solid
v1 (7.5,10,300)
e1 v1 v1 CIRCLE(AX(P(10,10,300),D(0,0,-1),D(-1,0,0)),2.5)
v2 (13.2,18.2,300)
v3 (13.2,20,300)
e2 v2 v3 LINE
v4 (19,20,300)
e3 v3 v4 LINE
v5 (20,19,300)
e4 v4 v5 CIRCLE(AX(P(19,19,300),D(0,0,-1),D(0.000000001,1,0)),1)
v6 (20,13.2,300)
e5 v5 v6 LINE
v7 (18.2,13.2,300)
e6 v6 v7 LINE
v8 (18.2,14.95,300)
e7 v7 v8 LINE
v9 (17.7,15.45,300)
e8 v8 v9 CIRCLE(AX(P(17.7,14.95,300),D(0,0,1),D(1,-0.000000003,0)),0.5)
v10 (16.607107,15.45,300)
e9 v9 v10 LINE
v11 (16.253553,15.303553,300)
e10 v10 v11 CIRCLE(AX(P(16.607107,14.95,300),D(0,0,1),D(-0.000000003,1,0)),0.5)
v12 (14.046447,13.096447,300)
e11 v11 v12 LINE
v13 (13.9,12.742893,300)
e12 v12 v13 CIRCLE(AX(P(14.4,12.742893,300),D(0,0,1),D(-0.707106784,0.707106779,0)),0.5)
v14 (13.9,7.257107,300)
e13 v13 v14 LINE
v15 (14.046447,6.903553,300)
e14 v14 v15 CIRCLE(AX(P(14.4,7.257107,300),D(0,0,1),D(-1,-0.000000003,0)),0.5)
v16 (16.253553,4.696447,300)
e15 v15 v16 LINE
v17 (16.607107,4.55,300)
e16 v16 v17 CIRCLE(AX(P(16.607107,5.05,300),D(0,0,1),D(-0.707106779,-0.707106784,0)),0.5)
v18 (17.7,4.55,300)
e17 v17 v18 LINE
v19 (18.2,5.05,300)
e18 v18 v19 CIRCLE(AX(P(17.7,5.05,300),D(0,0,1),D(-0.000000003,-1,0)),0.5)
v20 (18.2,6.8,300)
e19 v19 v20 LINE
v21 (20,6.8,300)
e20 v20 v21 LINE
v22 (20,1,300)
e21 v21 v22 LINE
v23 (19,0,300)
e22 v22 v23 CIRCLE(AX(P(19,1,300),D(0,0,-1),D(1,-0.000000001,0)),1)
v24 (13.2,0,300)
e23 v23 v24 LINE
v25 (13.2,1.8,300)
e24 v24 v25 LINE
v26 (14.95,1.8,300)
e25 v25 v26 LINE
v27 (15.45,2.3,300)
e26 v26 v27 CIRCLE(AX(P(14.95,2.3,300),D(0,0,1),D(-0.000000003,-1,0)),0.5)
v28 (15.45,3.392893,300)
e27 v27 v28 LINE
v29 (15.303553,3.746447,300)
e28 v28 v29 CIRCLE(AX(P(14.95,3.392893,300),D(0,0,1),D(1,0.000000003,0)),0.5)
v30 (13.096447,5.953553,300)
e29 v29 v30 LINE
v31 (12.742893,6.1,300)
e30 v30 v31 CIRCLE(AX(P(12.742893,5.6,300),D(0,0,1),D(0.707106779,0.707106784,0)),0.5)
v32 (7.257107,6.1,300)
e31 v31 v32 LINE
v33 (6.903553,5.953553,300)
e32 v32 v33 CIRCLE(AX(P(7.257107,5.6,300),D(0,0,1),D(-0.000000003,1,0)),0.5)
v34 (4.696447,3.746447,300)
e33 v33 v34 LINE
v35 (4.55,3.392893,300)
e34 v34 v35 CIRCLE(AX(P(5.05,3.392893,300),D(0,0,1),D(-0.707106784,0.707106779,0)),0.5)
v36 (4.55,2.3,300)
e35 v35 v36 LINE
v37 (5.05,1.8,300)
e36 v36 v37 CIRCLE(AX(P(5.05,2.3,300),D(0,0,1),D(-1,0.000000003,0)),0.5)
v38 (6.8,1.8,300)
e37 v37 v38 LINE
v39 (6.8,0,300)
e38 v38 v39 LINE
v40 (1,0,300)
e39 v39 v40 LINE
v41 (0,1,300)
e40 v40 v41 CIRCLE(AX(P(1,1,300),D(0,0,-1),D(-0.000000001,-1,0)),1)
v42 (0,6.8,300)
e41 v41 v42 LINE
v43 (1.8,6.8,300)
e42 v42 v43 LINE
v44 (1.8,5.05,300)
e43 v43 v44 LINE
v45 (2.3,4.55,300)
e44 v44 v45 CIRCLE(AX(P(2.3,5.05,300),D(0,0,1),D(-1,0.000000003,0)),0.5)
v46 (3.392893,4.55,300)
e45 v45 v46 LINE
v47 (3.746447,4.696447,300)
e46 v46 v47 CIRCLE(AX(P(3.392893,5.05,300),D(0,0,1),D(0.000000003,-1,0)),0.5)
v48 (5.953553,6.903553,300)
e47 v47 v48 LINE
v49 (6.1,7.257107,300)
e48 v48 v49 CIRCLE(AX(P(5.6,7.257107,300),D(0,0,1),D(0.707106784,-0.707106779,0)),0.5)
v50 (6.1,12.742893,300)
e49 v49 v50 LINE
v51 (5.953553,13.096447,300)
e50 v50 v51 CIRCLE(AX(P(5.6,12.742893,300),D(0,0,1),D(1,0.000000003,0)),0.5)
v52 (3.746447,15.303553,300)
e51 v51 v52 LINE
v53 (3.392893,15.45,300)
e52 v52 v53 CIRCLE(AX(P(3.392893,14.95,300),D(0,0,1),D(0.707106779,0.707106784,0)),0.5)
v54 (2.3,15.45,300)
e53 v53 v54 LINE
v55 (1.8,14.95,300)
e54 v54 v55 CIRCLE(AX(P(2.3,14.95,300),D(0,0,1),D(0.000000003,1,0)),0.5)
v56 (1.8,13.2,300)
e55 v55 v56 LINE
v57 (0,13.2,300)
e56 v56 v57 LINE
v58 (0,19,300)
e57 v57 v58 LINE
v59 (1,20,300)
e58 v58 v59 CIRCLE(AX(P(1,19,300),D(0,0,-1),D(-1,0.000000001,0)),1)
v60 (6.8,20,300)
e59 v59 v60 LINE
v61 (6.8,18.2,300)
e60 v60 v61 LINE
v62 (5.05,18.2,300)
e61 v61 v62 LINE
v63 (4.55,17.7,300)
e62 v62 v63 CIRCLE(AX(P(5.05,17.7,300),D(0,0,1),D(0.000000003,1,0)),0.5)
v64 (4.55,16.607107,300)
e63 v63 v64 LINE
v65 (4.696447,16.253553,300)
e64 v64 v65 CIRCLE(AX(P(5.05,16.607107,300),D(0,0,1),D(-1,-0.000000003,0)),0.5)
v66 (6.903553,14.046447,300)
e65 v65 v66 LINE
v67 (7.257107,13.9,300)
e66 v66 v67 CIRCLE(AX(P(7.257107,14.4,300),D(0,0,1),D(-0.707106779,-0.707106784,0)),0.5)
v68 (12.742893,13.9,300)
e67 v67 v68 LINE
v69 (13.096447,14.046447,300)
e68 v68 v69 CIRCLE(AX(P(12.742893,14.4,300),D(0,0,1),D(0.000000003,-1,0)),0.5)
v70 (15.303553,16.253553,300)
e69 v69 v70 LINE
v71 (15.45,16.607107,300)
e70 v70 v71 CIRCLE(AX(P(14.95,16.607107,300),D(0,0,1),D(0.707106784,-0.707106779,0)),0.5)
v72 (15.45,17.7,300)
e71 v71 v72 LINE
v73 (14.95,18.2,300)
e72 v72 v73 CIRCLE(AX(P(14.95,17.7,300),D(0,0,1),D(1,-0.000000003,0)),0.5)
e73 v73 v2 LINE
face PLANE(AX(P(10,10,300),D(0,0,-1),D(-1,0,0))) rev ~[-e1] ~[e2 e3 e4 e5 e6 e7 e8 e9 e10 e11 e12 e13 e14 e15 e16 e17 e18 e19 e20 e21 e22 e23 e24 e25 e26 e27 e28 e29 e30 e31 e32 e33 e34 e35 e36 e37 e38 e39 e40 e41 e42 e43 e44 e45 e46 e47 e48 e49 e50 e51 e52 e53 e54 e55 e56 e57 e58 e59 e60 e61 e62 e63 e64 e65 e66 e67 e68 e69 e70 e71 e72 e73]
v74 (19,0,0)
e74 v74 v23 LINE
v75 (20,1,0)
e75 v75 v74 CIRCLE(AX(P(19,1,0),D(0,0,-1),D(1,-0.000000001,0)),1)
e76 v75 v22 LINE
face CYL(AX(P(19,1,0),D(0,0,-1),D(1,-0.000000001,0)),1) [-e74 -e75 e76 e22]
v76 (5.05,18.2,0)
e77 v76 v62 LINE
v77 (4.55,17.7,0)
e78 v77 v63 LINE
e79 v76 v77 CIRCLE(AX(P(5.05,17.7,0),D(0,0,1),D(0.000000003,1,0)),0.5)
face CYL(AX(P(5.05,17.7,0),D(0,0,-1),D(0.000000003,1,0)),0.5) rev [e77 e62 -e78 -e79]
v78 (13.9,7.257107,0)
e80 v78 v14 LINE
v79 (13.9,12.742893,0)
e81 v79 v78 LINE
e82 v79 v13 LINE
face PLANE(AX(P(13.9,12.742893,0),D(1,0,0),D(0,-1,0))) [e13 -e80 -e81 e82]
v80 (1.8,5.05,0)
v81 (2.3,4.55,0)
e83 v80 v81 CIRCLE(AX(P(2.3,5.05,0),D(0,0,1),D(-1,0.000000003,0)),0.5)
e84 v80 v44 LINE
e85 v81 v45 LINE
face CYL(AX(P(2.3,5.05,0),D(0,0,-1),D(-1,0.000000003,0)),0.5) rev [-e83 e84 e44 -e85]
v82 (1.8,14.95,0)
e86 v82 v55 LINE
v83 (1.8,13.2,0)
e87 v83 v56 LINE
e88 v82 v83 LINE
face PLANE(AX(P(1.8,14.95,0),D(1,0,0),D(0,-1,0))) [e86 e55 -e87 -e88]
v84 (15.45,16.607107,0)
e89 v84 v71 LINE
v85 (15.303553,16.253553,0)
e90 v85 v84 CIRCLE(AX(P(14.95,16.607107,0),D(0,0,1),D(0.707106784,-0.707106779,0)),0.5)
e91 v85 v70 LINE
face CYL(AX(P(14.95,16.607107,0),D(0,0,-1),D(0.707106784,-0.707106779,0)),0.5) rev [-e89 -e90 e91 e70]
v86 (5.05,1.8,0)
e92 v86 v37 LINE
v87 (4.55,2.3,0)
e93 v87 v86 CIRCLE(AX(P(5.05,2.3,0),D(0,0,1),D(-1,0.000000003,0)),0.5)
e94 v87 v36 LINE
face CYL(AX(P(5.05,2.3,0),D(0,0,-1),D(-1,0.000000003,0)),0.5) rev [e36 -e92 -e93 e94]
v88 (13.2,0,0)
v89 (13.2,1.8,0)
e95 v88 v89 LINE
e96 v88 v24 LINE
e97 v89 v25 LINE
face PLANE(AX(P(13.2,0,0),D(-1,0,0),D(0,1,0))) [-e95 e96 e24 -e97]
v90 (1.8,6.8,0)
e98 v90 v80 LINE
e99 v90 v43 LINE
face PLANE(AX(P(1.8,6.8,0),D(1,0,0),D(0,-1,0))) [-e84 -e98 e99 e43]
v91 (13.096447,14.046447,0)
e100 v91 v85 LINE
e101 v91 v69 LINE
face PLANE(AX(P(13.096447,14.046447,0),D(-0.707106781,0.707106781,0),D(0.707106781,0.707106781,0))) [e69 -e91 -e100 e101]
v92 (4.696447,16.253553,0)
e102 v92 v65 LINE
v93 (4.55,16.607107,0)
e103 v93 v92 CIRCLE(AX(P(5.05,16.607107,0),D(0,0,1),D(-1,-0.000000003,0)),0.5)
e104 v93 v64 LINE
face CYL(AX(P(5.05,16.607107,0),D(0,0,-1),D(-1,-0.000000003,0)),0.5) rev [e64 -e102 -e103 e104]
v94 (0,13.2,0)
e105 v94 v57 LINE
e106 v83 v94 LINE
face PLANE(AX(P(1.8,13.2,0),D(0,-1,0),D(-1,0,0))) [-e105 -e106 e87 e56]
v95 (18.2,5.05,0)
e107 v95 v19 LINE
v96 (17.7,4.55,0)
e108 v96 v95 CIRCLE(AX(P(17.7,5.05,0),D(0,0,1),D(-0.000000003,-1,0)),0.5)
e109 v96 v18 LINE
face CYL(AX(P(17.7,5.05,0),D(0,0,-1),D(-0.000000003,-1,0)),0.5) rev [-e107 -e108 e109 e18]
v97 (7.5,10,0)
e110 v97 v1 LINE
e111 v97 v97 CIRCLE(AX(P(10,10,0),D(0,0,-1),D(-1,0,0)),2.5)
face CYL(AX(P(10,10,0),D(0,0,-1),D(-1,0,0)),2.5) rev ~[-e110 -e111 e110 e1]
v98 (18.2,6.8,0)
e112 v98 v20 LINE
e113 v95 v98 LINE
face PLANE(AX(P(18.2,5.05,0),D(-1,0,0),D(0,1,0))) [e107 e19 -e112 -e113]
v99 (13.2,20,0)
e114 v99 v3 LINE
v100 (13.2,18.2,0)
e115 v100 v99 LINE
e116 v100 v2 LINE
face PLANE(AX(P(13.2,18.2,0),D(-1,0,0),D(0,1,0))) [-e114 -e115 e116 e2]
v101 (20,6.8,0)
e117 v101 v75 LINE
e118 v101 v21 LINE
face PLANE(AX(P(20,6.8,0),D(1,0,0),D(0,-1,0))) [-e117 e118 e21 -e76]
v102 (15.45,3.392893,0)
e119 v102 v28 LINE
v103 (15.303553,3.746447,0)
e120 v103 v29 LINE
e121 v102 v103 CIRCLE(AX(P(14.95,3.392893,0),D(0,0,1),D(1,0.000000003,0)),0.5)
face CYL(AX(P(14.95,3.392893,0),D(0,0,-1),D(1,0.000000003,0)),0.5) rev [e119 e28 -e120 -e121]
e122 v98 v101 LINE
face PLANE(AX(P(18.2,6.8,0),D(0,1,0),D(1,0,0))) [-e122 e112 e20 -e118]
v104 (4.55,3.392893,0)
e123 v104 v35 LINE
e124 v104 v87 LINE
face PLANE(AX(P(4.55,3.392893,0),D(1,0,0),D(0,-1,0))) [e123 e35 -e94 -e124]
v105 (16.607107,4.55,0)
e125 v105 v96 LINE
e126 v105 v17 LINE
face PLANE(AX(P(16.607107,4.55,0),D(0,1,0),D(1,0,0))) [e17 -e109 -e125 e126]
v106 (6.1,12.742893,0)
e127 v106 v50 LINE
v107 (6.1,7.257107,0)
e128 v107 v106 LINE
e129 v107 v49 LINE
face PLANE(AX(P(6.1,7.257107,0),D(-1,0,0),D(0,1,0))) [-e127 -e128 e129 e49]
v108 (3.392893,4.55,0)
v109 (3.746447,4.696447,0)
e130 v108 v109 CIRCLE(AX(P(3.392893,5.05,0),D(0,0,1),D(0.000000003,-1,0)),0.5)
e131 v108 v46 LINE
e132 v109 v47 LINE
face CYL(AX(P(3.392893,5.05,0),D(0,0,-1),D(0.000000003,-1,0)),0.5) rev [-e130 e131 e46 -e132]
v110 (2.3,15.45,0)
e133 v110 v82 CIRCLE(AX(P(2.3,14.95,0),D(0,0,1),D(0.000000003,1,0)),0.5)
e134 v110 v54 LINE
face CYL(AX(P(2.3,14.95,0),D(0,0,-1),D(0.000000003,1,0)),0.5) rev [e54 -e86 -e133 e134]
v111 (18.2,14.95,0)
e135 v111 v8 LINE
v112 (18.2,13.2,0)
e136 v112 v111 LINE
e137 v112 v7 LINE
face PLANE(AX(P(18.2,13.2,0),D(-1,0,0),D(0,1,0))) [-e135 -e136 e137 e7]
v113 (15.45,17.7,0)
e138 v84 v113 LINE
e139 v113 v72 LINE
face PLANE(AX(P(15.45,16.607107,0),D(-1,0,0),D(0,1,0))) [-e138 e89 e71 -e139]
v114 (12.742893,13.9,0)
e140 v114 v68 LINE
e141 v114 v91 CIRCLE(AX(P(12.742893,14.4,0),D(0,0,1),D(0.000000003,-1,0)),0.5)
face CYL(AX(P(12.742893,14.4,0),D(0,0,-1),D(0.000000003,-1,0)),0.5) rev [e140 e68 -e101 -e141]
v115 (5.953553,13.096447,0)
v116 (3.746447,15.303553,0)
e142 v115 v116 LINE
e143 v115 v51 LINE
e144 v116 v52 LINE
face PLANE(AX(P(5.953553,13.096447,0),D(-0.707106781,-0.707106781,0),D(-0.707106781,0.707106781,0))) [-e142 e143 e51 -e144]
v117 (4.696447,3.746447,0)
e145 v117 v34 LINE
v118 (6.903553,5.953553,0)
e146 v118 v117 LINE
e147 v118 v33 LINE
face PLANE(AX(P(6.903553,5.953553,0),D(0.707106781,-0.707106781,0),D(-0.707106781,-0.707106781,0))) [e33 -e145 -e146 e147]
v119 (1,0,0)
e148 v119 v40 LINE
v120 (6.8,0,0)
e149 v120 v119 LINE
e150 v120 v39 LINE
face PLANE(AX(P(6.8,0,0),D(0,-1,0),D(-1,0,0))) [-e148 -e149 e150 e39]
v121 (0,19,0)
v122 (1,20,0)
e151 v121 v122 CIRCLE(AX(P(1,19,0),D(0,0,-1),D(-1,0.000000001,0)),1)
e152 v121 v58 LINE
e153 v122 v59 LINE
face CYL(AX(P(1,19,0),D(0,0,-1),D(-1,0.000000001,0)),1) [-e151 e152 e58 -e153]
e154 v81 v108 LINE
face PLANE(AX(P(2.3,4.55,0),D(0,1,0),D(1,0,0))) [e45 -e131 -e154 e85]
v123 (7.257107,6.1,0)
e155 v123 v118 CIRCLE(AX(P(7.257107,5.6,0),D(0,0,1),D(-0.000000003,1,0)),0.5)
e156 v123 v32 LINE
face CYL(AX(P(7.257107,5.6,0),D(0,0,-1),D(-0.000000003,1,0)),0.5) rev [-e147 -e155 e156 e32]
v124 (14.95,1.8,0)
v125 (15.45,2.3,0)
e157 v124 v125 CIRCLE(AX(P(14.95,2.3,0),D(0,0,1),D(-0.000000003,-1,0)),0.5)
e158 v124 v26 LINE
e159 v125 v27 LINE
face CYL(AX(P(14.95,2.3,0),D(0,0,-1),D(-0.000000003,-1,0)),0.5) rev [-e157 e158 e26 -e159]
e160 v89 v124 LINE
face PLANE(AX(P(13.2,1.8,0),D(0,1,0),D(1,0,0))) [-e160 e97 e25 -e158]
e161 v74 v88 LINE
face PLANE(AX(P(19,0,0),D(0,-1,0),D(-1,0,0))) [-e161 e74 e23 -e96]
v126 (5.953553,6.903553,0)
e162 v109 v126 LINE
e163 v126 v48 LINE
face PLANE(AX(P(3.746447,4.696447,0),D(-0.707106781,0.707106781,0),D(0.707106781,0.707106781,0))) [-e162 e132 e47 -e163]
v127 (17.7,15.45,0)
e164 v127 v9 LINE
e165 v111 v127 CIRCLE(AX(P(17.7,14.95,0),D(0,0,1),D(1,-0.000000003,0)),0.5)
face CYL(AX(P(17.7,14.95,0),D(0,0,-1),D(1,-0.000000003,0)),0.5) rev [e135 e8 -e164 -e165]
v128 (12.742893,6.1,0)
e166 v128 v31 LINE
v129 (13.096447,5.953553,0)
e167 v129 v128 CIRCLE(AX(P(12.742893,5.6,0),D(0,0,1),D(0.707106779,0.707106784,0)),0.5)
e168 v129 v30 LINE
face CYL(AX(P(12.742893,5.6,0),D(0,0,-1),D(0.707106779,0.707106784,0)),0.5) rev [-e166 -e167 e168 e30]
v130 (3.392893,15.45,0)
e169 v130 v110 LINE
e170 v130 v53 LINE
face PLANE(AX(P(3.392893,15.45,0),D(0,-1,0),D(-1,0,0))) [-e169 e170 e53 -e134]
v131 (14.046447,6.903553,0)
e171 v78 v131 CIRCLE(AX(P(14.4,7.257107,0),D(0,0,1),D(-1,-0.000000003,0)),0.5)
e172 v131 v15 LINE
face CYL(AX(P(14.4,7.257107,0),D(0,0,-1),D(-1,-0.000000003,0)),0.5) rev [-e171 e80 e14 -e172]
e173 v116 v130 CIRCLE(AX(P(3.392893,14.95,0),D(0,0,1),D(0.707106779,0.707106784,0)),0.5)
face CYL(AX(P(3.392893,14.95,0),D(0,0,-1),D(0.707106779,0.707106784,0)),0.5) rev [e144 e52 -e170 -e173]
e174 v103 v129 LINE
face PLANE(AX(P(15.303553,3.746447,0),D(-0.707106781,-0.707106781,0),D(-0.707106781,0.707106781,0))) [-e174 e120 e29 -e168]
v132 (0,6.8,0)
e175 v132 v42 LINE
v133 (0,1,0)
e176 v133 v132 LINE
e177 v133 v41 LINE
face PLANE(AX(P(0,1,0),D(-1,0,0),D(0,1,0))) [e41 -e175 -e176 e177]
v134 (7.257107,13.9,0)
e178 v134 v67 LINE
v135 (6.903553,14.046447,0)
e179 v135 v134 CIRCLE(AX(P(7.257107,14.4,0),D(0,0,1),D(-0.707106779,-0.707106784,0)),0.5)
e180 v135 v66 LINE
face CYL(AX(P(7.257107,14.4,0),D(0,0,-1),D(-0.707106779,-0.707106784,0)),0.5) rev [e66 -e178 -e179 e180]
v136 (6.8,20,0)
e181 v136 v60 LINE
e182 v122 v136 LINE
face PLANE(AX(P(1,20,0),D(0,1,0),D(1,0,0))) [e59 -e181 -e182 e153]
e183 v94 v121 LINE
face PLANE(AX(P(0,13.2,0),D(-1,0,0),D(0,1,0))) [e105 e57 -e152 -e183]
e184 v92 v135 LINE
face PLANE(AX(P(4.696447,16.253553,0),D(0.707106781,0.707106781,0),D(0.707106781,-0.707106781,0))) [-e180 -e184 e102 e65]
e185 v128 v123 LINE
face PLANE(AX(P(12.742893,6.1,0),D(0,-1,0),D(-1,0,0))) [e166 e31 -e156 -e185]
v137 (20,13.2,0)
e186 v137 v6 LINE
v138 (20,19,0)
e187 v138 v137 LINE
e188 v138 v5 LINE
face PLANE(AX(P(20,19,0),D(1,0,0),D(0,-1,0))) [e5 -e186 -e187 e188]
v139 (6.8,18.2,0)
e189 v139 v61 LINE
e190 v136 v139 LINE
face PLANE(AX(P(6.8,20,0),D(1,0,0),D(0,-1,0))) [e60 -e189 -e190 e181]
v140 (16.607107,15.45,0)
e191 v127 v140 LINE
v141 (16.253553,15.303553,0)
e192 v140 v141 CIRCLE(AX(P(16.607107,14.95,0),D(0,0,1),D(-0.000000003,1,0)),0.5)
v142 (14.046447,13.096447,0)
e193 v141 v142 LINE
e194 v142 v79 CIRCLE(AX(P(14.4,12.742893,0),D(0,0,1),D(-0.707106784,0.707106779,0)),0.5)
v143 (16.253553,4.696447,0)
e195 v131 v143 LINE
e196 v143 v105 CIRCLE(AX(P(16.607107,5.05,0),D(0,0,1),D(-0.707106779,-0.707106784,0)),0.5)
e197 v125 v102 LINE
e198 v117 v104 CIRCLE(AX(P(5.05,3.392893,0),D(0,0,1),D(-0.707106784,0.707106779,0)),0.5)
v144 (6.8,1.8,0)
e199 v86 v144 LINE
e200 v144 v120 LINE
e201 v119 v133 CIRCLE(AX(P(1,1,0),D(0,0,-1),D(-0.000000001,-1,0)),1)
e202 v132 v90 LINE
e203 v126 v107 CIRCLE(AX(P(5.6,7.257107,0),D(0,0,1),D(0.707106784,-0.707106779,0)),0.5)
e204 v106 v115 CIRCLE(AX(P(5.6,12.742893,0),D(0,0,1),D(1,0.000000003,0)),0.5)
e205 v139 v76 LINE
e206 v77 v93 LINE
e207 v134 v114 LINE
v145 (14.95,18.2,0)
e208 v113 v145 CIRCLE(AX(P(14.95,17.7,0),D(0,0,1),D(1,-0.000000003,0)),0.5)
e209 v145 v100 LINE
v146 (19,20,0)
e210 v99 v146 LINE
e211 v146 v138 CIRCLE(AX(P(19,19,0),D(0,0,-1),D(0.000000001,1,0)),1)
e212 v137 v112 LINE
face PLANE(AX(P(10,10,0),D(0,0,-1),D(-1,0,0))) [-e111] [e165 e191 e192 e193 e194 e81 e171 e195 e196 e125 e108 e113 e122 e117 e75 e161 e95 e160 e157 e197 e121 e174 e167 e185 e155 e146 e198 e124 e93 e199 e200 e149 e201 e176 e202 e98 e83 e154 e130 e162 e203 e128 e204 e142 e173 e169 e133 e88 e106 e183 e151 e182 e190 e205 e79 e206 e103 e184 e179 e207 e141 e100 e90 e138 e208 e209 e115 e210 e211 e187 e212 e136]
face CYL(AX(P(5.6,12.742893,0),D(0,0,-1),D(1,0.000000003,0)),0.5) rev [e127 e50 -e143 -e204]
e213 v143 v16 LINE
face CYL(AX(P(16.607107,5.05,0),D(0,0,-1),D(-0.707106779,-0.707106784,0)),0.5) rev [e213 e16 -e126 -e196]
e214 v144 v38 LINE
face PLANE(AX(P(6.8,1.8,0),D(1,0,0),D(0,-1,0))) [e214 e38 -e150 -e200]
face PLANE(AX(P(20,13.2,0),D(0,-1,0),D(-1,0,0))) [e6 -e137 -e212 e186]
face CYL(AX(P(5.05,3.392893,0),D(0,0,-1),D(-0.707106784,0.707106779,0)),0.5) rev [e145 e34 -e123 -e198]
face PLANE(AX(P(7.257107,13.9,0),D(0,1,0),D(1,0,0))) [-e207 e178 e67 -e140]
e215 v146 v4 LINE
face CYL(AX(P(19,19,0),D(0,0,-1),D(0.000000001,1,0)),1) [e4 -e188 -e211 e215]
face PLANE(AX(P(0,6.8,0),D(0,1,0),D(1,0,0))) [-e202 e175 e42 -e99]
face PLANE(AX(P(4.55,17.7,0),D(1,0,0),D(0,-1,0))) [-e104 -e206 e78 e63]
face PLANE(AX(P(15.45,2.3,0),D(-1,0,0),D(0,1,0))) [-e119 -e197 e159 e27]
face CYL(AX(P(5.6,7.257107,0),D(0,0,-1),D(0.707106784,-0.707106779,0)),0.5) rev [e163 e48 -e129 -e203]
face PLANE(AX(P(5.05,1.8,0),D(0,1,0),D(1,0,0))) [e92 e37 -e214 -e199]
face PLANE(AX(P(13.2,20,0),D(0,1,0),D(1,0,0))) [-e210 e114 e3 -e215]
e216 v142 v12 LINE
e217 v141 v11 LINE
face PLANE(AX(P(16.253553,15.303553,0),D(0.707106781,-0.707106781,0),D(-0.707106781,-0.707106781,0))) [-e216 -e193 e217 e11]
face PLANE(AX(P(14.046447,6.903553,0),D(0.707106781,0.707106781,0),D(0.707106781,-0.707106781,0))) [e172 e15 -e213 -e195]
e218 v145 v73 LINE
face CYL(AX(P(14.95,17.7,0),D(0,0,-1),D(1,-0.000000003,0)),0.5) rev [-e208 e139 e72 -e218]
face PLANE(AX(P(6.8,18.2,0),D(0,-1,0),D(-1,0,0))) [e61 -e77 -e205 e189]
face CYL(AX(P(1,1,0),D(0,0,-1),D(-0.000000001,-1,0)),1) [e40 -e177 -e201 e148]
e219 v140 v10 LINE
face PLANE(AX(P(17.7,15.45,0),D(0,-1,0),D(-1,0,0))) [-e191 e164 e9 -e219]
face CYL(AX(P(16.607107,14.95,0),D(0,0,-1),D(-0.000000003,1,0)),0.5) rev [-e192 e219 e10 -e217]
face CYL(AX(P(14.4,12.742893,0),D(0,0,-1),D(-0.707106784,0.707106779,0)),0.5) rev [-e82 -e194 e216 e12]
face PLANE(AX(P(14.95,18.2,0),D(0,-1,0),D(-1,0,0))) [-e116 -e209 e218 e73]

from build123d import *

# Parameters (mm, degrees)
SKETCH1_R           = 2.5
BOSS_EXTRUDE1_DEPTH = 300


with BuildPart() as part:
    # Sketch1 → Boss-Extrude1 (new body)
    with BuildSketch(Plane(origin=(0, 0, 0), x_dir=(-1, 0, 0), z_dir=(0, 0, -1))):
        with BuildLine():
            Line((-20, 19), (-20, 13.2))
            Line((-20, 13.2), (-18.2, 13.2))
            Line((-18.2, 13.2), (-18.2, 14.95))
            ThreePointArc((-18.2, 14.95), (-18.053553391, 15.303553391), (-17.7, 15.45))
            Line((-17.7, 15.45), (-16.607106781, 15.45))
            ThreePointArc((-16.607106781, 15.45), (-16.415765065, 15.411939766), (-16.253553391, 15.303553391))
            Line((-16.253553391, 15.303553391), (-14.046446609, 13.096446609))
            ThreePointArc((-14.046446609, 13.096446609), (-13.938060234, 12.934234935), (-13.9, 12.742893219))
            Line((-13.9, 12.742893219), (-13.9, 7.257106781))
            ThreePointArc((-13.9, 7.257106781), (-13.938060234, 7.065765065), (-14.046446609, 6.903553391))
            Line((-14.046446609, 6.903553391), (-16.253553391, 4.696446609))
            ThreePointArc((-16.253553391, 4.696446609), (-16.415765065, 4.588060234), (-16.607106781, 4.55))
            Line((-16.607106781, 4.55), (-17.7, 4.55))
            ThreePointArc((-17.7, 4.55), (-18.053553391, 4.696446609), (-18.2, 5.05))
            Line((-18.2, 5.05), (-18.2, 6.8))
            Line((-18.2, 6.8), (-20, 6.8))
            Line((-20, 6.8), (-20, 1))
            ThreePointArc((-20, 1), (-19.707106781, 0.292893219), (-19, 0))
            Line((-19, 0), (-13.2, 0))
            Line((-13.2, 0), (-13.2, 1.8))
            Line((-13.2, 1.8), (-14.95, 1.8))
            ThreePointArc((-14.95, 1.8), (-15.303553391, 1.946446609), (-15.45, 2.3))
            Line((-15.45, 2.3), (-15.45, 3.392893219))
            ThreePointArc((-15.45, 3.392893219), (-15.411939766, 3.584234935), (-15.303553391, 3.746446609))
            Line((-15.303553391, 3.746446609), (-13.096446609, 5.953553391))
            ThreePointArc((-13.096446609, 5.953553391), (-12.934234935, 6.061939766), (-12.742893219, 6.1))
            Line((-12.742893219, 6.1), (-7.257106781, 6.1))
            ThreePointArc((-7.257106781, 6.1), (-7.065765065, 6.061939766), (-6.903553391, 5.953553391))
            Line((-6.903553391, 5.953553391), (-4.696446609, 3.746446609))
            ThreePointArc((-4.696446609, 3.746446609), (-4.588060234, 3.584234935), (-4.55, 3.392893219))
            Line((-4.55, 3.392893219), (-4.55, 2.3))
            ThreePointArc((-4.55, 2.3), (-4.696446609, 1.946446609), (-5.05, 1.8))
            Line((-5.05, 1.8), (-6.8, 1.8))
            Line((-6.8, 1.8), (-6.8, 0))
            Line((-6.8, 0), (-1, 0))
            ThreePointArc((-1, 0), (-0.292893219, 0.292893219), (0, 1))
            Line((0, 1), (0, 6.8))
            Line((0, 6.8), (-1.8, 6.8))
            Line((-1.8, 6.8), (-1.8, 5.05))
            ThreePointArc((-1.8, 5.05), (-1.946446609, 4.696446609), (-2.3, 4.55))
            Line((-2.3, 4.55), (-3.392893219, 4.55))
            ThreePointArc((-3.392893219, 4.55), (-3.584234935, 4.588060234), (-3.746446609, 4.696446609))
            Line((-3.746446609, 4.696446609), (-5.953553391, 6.903553391))
            ThreePointArc((-5.953553391, 6.903553391), (-6.061939766, 7.065765065), (-6.1, 7.257106781))
            Line((-6.1, 7.257106781), (-6.1, 12.742893219))
            ThreePointArc((-6.1, 12.742893219), (-6.061939766, 12.934234935), (-5.953553391, 13.096446609))
            Line((-5.953553391, 13.096446609), (-3.746446609, 15.303553391))
            ThreePointArc((-3.746446609, 15.303553391), (-3.584234935, 15.411939766), (-3.392893219, 15.45))
            Line((-3.392893219, 15.45), (-2.3, 15.45))
            ThreePointArc((-2.3, 15.45), (-1.946446609, 15.303553391), (-1.8, 14.95))
            Line((-1.8, 14.95), (-1.8, 13.2))
            Line((-1.8, 13.2), (0, 13.2))
            Line((0, 13.2), (0, 19))
            ThreePointArc((0, 19), (-0.292893219, 19.707106781), (-1, 20))
            Line((-1, 20), (-6.8, 20))
            Line((-6.8, 20), (-6.8, 18.2))
            Line((-6.8, 18.2), (-5.05, 18.2))
            ThreePointArc((-5.05, 18.2), (-4.696446609, 18.053553391), (-4.55, 17.7))
            Line((-4.55, 17.7), (-4.55, 16.607106781))
            ThreePointArc((-4.55, 16.607106781), (-4.588060234, 16.415765065), (-4.696446609, 16.253553391))
            Line((-4.696446609, 16.253553391), (-6.903553391, 14.046446609))
            ThreePointArc((-6.903553391, 14.046446609), (-7.065765065, 13.938060234), (-7.257106781, 13.9))
            Line((-7.257106781, 13.9), (-12.742893219, 13.9))
            ThreePointArc((-12.742893219, 13.9), (-12.934234935, 13.938060234), (-13.096446609, 14.046446609))
            Line((-13.096446609, 14.046446609), (-15.303553391, 16.253553391))
            ThreePointArc((-15.303553391, 16.253553391), (-15.411939766, 16.415765065), (-15.45, 16.607106781))
            Line((-15.45, 16.607106781), (-15.45, 17.7))
            ThreePointArc((-15.45, 17.7), (-15.303553391, 18.053553391), (-14.95, 18.2))
            Line((-14.95, 18.2), (-13.2, 18.2))
            Line((-13.2, 18.2), (-13.2, 20))
            Line((-13.2, 20), (-19, 20))
            ThreePointArc((-19, 20), (-19.707106781, 19.707106781), (-20, 19))
        make_face()
        with Locations((-10, 10)):
            Circle(SKETCH1_R, mode=Mode.SUBTRACT)
    extrude(amount=-BOSS_EXTRUDE1_DEPTH)


solid = part.part
